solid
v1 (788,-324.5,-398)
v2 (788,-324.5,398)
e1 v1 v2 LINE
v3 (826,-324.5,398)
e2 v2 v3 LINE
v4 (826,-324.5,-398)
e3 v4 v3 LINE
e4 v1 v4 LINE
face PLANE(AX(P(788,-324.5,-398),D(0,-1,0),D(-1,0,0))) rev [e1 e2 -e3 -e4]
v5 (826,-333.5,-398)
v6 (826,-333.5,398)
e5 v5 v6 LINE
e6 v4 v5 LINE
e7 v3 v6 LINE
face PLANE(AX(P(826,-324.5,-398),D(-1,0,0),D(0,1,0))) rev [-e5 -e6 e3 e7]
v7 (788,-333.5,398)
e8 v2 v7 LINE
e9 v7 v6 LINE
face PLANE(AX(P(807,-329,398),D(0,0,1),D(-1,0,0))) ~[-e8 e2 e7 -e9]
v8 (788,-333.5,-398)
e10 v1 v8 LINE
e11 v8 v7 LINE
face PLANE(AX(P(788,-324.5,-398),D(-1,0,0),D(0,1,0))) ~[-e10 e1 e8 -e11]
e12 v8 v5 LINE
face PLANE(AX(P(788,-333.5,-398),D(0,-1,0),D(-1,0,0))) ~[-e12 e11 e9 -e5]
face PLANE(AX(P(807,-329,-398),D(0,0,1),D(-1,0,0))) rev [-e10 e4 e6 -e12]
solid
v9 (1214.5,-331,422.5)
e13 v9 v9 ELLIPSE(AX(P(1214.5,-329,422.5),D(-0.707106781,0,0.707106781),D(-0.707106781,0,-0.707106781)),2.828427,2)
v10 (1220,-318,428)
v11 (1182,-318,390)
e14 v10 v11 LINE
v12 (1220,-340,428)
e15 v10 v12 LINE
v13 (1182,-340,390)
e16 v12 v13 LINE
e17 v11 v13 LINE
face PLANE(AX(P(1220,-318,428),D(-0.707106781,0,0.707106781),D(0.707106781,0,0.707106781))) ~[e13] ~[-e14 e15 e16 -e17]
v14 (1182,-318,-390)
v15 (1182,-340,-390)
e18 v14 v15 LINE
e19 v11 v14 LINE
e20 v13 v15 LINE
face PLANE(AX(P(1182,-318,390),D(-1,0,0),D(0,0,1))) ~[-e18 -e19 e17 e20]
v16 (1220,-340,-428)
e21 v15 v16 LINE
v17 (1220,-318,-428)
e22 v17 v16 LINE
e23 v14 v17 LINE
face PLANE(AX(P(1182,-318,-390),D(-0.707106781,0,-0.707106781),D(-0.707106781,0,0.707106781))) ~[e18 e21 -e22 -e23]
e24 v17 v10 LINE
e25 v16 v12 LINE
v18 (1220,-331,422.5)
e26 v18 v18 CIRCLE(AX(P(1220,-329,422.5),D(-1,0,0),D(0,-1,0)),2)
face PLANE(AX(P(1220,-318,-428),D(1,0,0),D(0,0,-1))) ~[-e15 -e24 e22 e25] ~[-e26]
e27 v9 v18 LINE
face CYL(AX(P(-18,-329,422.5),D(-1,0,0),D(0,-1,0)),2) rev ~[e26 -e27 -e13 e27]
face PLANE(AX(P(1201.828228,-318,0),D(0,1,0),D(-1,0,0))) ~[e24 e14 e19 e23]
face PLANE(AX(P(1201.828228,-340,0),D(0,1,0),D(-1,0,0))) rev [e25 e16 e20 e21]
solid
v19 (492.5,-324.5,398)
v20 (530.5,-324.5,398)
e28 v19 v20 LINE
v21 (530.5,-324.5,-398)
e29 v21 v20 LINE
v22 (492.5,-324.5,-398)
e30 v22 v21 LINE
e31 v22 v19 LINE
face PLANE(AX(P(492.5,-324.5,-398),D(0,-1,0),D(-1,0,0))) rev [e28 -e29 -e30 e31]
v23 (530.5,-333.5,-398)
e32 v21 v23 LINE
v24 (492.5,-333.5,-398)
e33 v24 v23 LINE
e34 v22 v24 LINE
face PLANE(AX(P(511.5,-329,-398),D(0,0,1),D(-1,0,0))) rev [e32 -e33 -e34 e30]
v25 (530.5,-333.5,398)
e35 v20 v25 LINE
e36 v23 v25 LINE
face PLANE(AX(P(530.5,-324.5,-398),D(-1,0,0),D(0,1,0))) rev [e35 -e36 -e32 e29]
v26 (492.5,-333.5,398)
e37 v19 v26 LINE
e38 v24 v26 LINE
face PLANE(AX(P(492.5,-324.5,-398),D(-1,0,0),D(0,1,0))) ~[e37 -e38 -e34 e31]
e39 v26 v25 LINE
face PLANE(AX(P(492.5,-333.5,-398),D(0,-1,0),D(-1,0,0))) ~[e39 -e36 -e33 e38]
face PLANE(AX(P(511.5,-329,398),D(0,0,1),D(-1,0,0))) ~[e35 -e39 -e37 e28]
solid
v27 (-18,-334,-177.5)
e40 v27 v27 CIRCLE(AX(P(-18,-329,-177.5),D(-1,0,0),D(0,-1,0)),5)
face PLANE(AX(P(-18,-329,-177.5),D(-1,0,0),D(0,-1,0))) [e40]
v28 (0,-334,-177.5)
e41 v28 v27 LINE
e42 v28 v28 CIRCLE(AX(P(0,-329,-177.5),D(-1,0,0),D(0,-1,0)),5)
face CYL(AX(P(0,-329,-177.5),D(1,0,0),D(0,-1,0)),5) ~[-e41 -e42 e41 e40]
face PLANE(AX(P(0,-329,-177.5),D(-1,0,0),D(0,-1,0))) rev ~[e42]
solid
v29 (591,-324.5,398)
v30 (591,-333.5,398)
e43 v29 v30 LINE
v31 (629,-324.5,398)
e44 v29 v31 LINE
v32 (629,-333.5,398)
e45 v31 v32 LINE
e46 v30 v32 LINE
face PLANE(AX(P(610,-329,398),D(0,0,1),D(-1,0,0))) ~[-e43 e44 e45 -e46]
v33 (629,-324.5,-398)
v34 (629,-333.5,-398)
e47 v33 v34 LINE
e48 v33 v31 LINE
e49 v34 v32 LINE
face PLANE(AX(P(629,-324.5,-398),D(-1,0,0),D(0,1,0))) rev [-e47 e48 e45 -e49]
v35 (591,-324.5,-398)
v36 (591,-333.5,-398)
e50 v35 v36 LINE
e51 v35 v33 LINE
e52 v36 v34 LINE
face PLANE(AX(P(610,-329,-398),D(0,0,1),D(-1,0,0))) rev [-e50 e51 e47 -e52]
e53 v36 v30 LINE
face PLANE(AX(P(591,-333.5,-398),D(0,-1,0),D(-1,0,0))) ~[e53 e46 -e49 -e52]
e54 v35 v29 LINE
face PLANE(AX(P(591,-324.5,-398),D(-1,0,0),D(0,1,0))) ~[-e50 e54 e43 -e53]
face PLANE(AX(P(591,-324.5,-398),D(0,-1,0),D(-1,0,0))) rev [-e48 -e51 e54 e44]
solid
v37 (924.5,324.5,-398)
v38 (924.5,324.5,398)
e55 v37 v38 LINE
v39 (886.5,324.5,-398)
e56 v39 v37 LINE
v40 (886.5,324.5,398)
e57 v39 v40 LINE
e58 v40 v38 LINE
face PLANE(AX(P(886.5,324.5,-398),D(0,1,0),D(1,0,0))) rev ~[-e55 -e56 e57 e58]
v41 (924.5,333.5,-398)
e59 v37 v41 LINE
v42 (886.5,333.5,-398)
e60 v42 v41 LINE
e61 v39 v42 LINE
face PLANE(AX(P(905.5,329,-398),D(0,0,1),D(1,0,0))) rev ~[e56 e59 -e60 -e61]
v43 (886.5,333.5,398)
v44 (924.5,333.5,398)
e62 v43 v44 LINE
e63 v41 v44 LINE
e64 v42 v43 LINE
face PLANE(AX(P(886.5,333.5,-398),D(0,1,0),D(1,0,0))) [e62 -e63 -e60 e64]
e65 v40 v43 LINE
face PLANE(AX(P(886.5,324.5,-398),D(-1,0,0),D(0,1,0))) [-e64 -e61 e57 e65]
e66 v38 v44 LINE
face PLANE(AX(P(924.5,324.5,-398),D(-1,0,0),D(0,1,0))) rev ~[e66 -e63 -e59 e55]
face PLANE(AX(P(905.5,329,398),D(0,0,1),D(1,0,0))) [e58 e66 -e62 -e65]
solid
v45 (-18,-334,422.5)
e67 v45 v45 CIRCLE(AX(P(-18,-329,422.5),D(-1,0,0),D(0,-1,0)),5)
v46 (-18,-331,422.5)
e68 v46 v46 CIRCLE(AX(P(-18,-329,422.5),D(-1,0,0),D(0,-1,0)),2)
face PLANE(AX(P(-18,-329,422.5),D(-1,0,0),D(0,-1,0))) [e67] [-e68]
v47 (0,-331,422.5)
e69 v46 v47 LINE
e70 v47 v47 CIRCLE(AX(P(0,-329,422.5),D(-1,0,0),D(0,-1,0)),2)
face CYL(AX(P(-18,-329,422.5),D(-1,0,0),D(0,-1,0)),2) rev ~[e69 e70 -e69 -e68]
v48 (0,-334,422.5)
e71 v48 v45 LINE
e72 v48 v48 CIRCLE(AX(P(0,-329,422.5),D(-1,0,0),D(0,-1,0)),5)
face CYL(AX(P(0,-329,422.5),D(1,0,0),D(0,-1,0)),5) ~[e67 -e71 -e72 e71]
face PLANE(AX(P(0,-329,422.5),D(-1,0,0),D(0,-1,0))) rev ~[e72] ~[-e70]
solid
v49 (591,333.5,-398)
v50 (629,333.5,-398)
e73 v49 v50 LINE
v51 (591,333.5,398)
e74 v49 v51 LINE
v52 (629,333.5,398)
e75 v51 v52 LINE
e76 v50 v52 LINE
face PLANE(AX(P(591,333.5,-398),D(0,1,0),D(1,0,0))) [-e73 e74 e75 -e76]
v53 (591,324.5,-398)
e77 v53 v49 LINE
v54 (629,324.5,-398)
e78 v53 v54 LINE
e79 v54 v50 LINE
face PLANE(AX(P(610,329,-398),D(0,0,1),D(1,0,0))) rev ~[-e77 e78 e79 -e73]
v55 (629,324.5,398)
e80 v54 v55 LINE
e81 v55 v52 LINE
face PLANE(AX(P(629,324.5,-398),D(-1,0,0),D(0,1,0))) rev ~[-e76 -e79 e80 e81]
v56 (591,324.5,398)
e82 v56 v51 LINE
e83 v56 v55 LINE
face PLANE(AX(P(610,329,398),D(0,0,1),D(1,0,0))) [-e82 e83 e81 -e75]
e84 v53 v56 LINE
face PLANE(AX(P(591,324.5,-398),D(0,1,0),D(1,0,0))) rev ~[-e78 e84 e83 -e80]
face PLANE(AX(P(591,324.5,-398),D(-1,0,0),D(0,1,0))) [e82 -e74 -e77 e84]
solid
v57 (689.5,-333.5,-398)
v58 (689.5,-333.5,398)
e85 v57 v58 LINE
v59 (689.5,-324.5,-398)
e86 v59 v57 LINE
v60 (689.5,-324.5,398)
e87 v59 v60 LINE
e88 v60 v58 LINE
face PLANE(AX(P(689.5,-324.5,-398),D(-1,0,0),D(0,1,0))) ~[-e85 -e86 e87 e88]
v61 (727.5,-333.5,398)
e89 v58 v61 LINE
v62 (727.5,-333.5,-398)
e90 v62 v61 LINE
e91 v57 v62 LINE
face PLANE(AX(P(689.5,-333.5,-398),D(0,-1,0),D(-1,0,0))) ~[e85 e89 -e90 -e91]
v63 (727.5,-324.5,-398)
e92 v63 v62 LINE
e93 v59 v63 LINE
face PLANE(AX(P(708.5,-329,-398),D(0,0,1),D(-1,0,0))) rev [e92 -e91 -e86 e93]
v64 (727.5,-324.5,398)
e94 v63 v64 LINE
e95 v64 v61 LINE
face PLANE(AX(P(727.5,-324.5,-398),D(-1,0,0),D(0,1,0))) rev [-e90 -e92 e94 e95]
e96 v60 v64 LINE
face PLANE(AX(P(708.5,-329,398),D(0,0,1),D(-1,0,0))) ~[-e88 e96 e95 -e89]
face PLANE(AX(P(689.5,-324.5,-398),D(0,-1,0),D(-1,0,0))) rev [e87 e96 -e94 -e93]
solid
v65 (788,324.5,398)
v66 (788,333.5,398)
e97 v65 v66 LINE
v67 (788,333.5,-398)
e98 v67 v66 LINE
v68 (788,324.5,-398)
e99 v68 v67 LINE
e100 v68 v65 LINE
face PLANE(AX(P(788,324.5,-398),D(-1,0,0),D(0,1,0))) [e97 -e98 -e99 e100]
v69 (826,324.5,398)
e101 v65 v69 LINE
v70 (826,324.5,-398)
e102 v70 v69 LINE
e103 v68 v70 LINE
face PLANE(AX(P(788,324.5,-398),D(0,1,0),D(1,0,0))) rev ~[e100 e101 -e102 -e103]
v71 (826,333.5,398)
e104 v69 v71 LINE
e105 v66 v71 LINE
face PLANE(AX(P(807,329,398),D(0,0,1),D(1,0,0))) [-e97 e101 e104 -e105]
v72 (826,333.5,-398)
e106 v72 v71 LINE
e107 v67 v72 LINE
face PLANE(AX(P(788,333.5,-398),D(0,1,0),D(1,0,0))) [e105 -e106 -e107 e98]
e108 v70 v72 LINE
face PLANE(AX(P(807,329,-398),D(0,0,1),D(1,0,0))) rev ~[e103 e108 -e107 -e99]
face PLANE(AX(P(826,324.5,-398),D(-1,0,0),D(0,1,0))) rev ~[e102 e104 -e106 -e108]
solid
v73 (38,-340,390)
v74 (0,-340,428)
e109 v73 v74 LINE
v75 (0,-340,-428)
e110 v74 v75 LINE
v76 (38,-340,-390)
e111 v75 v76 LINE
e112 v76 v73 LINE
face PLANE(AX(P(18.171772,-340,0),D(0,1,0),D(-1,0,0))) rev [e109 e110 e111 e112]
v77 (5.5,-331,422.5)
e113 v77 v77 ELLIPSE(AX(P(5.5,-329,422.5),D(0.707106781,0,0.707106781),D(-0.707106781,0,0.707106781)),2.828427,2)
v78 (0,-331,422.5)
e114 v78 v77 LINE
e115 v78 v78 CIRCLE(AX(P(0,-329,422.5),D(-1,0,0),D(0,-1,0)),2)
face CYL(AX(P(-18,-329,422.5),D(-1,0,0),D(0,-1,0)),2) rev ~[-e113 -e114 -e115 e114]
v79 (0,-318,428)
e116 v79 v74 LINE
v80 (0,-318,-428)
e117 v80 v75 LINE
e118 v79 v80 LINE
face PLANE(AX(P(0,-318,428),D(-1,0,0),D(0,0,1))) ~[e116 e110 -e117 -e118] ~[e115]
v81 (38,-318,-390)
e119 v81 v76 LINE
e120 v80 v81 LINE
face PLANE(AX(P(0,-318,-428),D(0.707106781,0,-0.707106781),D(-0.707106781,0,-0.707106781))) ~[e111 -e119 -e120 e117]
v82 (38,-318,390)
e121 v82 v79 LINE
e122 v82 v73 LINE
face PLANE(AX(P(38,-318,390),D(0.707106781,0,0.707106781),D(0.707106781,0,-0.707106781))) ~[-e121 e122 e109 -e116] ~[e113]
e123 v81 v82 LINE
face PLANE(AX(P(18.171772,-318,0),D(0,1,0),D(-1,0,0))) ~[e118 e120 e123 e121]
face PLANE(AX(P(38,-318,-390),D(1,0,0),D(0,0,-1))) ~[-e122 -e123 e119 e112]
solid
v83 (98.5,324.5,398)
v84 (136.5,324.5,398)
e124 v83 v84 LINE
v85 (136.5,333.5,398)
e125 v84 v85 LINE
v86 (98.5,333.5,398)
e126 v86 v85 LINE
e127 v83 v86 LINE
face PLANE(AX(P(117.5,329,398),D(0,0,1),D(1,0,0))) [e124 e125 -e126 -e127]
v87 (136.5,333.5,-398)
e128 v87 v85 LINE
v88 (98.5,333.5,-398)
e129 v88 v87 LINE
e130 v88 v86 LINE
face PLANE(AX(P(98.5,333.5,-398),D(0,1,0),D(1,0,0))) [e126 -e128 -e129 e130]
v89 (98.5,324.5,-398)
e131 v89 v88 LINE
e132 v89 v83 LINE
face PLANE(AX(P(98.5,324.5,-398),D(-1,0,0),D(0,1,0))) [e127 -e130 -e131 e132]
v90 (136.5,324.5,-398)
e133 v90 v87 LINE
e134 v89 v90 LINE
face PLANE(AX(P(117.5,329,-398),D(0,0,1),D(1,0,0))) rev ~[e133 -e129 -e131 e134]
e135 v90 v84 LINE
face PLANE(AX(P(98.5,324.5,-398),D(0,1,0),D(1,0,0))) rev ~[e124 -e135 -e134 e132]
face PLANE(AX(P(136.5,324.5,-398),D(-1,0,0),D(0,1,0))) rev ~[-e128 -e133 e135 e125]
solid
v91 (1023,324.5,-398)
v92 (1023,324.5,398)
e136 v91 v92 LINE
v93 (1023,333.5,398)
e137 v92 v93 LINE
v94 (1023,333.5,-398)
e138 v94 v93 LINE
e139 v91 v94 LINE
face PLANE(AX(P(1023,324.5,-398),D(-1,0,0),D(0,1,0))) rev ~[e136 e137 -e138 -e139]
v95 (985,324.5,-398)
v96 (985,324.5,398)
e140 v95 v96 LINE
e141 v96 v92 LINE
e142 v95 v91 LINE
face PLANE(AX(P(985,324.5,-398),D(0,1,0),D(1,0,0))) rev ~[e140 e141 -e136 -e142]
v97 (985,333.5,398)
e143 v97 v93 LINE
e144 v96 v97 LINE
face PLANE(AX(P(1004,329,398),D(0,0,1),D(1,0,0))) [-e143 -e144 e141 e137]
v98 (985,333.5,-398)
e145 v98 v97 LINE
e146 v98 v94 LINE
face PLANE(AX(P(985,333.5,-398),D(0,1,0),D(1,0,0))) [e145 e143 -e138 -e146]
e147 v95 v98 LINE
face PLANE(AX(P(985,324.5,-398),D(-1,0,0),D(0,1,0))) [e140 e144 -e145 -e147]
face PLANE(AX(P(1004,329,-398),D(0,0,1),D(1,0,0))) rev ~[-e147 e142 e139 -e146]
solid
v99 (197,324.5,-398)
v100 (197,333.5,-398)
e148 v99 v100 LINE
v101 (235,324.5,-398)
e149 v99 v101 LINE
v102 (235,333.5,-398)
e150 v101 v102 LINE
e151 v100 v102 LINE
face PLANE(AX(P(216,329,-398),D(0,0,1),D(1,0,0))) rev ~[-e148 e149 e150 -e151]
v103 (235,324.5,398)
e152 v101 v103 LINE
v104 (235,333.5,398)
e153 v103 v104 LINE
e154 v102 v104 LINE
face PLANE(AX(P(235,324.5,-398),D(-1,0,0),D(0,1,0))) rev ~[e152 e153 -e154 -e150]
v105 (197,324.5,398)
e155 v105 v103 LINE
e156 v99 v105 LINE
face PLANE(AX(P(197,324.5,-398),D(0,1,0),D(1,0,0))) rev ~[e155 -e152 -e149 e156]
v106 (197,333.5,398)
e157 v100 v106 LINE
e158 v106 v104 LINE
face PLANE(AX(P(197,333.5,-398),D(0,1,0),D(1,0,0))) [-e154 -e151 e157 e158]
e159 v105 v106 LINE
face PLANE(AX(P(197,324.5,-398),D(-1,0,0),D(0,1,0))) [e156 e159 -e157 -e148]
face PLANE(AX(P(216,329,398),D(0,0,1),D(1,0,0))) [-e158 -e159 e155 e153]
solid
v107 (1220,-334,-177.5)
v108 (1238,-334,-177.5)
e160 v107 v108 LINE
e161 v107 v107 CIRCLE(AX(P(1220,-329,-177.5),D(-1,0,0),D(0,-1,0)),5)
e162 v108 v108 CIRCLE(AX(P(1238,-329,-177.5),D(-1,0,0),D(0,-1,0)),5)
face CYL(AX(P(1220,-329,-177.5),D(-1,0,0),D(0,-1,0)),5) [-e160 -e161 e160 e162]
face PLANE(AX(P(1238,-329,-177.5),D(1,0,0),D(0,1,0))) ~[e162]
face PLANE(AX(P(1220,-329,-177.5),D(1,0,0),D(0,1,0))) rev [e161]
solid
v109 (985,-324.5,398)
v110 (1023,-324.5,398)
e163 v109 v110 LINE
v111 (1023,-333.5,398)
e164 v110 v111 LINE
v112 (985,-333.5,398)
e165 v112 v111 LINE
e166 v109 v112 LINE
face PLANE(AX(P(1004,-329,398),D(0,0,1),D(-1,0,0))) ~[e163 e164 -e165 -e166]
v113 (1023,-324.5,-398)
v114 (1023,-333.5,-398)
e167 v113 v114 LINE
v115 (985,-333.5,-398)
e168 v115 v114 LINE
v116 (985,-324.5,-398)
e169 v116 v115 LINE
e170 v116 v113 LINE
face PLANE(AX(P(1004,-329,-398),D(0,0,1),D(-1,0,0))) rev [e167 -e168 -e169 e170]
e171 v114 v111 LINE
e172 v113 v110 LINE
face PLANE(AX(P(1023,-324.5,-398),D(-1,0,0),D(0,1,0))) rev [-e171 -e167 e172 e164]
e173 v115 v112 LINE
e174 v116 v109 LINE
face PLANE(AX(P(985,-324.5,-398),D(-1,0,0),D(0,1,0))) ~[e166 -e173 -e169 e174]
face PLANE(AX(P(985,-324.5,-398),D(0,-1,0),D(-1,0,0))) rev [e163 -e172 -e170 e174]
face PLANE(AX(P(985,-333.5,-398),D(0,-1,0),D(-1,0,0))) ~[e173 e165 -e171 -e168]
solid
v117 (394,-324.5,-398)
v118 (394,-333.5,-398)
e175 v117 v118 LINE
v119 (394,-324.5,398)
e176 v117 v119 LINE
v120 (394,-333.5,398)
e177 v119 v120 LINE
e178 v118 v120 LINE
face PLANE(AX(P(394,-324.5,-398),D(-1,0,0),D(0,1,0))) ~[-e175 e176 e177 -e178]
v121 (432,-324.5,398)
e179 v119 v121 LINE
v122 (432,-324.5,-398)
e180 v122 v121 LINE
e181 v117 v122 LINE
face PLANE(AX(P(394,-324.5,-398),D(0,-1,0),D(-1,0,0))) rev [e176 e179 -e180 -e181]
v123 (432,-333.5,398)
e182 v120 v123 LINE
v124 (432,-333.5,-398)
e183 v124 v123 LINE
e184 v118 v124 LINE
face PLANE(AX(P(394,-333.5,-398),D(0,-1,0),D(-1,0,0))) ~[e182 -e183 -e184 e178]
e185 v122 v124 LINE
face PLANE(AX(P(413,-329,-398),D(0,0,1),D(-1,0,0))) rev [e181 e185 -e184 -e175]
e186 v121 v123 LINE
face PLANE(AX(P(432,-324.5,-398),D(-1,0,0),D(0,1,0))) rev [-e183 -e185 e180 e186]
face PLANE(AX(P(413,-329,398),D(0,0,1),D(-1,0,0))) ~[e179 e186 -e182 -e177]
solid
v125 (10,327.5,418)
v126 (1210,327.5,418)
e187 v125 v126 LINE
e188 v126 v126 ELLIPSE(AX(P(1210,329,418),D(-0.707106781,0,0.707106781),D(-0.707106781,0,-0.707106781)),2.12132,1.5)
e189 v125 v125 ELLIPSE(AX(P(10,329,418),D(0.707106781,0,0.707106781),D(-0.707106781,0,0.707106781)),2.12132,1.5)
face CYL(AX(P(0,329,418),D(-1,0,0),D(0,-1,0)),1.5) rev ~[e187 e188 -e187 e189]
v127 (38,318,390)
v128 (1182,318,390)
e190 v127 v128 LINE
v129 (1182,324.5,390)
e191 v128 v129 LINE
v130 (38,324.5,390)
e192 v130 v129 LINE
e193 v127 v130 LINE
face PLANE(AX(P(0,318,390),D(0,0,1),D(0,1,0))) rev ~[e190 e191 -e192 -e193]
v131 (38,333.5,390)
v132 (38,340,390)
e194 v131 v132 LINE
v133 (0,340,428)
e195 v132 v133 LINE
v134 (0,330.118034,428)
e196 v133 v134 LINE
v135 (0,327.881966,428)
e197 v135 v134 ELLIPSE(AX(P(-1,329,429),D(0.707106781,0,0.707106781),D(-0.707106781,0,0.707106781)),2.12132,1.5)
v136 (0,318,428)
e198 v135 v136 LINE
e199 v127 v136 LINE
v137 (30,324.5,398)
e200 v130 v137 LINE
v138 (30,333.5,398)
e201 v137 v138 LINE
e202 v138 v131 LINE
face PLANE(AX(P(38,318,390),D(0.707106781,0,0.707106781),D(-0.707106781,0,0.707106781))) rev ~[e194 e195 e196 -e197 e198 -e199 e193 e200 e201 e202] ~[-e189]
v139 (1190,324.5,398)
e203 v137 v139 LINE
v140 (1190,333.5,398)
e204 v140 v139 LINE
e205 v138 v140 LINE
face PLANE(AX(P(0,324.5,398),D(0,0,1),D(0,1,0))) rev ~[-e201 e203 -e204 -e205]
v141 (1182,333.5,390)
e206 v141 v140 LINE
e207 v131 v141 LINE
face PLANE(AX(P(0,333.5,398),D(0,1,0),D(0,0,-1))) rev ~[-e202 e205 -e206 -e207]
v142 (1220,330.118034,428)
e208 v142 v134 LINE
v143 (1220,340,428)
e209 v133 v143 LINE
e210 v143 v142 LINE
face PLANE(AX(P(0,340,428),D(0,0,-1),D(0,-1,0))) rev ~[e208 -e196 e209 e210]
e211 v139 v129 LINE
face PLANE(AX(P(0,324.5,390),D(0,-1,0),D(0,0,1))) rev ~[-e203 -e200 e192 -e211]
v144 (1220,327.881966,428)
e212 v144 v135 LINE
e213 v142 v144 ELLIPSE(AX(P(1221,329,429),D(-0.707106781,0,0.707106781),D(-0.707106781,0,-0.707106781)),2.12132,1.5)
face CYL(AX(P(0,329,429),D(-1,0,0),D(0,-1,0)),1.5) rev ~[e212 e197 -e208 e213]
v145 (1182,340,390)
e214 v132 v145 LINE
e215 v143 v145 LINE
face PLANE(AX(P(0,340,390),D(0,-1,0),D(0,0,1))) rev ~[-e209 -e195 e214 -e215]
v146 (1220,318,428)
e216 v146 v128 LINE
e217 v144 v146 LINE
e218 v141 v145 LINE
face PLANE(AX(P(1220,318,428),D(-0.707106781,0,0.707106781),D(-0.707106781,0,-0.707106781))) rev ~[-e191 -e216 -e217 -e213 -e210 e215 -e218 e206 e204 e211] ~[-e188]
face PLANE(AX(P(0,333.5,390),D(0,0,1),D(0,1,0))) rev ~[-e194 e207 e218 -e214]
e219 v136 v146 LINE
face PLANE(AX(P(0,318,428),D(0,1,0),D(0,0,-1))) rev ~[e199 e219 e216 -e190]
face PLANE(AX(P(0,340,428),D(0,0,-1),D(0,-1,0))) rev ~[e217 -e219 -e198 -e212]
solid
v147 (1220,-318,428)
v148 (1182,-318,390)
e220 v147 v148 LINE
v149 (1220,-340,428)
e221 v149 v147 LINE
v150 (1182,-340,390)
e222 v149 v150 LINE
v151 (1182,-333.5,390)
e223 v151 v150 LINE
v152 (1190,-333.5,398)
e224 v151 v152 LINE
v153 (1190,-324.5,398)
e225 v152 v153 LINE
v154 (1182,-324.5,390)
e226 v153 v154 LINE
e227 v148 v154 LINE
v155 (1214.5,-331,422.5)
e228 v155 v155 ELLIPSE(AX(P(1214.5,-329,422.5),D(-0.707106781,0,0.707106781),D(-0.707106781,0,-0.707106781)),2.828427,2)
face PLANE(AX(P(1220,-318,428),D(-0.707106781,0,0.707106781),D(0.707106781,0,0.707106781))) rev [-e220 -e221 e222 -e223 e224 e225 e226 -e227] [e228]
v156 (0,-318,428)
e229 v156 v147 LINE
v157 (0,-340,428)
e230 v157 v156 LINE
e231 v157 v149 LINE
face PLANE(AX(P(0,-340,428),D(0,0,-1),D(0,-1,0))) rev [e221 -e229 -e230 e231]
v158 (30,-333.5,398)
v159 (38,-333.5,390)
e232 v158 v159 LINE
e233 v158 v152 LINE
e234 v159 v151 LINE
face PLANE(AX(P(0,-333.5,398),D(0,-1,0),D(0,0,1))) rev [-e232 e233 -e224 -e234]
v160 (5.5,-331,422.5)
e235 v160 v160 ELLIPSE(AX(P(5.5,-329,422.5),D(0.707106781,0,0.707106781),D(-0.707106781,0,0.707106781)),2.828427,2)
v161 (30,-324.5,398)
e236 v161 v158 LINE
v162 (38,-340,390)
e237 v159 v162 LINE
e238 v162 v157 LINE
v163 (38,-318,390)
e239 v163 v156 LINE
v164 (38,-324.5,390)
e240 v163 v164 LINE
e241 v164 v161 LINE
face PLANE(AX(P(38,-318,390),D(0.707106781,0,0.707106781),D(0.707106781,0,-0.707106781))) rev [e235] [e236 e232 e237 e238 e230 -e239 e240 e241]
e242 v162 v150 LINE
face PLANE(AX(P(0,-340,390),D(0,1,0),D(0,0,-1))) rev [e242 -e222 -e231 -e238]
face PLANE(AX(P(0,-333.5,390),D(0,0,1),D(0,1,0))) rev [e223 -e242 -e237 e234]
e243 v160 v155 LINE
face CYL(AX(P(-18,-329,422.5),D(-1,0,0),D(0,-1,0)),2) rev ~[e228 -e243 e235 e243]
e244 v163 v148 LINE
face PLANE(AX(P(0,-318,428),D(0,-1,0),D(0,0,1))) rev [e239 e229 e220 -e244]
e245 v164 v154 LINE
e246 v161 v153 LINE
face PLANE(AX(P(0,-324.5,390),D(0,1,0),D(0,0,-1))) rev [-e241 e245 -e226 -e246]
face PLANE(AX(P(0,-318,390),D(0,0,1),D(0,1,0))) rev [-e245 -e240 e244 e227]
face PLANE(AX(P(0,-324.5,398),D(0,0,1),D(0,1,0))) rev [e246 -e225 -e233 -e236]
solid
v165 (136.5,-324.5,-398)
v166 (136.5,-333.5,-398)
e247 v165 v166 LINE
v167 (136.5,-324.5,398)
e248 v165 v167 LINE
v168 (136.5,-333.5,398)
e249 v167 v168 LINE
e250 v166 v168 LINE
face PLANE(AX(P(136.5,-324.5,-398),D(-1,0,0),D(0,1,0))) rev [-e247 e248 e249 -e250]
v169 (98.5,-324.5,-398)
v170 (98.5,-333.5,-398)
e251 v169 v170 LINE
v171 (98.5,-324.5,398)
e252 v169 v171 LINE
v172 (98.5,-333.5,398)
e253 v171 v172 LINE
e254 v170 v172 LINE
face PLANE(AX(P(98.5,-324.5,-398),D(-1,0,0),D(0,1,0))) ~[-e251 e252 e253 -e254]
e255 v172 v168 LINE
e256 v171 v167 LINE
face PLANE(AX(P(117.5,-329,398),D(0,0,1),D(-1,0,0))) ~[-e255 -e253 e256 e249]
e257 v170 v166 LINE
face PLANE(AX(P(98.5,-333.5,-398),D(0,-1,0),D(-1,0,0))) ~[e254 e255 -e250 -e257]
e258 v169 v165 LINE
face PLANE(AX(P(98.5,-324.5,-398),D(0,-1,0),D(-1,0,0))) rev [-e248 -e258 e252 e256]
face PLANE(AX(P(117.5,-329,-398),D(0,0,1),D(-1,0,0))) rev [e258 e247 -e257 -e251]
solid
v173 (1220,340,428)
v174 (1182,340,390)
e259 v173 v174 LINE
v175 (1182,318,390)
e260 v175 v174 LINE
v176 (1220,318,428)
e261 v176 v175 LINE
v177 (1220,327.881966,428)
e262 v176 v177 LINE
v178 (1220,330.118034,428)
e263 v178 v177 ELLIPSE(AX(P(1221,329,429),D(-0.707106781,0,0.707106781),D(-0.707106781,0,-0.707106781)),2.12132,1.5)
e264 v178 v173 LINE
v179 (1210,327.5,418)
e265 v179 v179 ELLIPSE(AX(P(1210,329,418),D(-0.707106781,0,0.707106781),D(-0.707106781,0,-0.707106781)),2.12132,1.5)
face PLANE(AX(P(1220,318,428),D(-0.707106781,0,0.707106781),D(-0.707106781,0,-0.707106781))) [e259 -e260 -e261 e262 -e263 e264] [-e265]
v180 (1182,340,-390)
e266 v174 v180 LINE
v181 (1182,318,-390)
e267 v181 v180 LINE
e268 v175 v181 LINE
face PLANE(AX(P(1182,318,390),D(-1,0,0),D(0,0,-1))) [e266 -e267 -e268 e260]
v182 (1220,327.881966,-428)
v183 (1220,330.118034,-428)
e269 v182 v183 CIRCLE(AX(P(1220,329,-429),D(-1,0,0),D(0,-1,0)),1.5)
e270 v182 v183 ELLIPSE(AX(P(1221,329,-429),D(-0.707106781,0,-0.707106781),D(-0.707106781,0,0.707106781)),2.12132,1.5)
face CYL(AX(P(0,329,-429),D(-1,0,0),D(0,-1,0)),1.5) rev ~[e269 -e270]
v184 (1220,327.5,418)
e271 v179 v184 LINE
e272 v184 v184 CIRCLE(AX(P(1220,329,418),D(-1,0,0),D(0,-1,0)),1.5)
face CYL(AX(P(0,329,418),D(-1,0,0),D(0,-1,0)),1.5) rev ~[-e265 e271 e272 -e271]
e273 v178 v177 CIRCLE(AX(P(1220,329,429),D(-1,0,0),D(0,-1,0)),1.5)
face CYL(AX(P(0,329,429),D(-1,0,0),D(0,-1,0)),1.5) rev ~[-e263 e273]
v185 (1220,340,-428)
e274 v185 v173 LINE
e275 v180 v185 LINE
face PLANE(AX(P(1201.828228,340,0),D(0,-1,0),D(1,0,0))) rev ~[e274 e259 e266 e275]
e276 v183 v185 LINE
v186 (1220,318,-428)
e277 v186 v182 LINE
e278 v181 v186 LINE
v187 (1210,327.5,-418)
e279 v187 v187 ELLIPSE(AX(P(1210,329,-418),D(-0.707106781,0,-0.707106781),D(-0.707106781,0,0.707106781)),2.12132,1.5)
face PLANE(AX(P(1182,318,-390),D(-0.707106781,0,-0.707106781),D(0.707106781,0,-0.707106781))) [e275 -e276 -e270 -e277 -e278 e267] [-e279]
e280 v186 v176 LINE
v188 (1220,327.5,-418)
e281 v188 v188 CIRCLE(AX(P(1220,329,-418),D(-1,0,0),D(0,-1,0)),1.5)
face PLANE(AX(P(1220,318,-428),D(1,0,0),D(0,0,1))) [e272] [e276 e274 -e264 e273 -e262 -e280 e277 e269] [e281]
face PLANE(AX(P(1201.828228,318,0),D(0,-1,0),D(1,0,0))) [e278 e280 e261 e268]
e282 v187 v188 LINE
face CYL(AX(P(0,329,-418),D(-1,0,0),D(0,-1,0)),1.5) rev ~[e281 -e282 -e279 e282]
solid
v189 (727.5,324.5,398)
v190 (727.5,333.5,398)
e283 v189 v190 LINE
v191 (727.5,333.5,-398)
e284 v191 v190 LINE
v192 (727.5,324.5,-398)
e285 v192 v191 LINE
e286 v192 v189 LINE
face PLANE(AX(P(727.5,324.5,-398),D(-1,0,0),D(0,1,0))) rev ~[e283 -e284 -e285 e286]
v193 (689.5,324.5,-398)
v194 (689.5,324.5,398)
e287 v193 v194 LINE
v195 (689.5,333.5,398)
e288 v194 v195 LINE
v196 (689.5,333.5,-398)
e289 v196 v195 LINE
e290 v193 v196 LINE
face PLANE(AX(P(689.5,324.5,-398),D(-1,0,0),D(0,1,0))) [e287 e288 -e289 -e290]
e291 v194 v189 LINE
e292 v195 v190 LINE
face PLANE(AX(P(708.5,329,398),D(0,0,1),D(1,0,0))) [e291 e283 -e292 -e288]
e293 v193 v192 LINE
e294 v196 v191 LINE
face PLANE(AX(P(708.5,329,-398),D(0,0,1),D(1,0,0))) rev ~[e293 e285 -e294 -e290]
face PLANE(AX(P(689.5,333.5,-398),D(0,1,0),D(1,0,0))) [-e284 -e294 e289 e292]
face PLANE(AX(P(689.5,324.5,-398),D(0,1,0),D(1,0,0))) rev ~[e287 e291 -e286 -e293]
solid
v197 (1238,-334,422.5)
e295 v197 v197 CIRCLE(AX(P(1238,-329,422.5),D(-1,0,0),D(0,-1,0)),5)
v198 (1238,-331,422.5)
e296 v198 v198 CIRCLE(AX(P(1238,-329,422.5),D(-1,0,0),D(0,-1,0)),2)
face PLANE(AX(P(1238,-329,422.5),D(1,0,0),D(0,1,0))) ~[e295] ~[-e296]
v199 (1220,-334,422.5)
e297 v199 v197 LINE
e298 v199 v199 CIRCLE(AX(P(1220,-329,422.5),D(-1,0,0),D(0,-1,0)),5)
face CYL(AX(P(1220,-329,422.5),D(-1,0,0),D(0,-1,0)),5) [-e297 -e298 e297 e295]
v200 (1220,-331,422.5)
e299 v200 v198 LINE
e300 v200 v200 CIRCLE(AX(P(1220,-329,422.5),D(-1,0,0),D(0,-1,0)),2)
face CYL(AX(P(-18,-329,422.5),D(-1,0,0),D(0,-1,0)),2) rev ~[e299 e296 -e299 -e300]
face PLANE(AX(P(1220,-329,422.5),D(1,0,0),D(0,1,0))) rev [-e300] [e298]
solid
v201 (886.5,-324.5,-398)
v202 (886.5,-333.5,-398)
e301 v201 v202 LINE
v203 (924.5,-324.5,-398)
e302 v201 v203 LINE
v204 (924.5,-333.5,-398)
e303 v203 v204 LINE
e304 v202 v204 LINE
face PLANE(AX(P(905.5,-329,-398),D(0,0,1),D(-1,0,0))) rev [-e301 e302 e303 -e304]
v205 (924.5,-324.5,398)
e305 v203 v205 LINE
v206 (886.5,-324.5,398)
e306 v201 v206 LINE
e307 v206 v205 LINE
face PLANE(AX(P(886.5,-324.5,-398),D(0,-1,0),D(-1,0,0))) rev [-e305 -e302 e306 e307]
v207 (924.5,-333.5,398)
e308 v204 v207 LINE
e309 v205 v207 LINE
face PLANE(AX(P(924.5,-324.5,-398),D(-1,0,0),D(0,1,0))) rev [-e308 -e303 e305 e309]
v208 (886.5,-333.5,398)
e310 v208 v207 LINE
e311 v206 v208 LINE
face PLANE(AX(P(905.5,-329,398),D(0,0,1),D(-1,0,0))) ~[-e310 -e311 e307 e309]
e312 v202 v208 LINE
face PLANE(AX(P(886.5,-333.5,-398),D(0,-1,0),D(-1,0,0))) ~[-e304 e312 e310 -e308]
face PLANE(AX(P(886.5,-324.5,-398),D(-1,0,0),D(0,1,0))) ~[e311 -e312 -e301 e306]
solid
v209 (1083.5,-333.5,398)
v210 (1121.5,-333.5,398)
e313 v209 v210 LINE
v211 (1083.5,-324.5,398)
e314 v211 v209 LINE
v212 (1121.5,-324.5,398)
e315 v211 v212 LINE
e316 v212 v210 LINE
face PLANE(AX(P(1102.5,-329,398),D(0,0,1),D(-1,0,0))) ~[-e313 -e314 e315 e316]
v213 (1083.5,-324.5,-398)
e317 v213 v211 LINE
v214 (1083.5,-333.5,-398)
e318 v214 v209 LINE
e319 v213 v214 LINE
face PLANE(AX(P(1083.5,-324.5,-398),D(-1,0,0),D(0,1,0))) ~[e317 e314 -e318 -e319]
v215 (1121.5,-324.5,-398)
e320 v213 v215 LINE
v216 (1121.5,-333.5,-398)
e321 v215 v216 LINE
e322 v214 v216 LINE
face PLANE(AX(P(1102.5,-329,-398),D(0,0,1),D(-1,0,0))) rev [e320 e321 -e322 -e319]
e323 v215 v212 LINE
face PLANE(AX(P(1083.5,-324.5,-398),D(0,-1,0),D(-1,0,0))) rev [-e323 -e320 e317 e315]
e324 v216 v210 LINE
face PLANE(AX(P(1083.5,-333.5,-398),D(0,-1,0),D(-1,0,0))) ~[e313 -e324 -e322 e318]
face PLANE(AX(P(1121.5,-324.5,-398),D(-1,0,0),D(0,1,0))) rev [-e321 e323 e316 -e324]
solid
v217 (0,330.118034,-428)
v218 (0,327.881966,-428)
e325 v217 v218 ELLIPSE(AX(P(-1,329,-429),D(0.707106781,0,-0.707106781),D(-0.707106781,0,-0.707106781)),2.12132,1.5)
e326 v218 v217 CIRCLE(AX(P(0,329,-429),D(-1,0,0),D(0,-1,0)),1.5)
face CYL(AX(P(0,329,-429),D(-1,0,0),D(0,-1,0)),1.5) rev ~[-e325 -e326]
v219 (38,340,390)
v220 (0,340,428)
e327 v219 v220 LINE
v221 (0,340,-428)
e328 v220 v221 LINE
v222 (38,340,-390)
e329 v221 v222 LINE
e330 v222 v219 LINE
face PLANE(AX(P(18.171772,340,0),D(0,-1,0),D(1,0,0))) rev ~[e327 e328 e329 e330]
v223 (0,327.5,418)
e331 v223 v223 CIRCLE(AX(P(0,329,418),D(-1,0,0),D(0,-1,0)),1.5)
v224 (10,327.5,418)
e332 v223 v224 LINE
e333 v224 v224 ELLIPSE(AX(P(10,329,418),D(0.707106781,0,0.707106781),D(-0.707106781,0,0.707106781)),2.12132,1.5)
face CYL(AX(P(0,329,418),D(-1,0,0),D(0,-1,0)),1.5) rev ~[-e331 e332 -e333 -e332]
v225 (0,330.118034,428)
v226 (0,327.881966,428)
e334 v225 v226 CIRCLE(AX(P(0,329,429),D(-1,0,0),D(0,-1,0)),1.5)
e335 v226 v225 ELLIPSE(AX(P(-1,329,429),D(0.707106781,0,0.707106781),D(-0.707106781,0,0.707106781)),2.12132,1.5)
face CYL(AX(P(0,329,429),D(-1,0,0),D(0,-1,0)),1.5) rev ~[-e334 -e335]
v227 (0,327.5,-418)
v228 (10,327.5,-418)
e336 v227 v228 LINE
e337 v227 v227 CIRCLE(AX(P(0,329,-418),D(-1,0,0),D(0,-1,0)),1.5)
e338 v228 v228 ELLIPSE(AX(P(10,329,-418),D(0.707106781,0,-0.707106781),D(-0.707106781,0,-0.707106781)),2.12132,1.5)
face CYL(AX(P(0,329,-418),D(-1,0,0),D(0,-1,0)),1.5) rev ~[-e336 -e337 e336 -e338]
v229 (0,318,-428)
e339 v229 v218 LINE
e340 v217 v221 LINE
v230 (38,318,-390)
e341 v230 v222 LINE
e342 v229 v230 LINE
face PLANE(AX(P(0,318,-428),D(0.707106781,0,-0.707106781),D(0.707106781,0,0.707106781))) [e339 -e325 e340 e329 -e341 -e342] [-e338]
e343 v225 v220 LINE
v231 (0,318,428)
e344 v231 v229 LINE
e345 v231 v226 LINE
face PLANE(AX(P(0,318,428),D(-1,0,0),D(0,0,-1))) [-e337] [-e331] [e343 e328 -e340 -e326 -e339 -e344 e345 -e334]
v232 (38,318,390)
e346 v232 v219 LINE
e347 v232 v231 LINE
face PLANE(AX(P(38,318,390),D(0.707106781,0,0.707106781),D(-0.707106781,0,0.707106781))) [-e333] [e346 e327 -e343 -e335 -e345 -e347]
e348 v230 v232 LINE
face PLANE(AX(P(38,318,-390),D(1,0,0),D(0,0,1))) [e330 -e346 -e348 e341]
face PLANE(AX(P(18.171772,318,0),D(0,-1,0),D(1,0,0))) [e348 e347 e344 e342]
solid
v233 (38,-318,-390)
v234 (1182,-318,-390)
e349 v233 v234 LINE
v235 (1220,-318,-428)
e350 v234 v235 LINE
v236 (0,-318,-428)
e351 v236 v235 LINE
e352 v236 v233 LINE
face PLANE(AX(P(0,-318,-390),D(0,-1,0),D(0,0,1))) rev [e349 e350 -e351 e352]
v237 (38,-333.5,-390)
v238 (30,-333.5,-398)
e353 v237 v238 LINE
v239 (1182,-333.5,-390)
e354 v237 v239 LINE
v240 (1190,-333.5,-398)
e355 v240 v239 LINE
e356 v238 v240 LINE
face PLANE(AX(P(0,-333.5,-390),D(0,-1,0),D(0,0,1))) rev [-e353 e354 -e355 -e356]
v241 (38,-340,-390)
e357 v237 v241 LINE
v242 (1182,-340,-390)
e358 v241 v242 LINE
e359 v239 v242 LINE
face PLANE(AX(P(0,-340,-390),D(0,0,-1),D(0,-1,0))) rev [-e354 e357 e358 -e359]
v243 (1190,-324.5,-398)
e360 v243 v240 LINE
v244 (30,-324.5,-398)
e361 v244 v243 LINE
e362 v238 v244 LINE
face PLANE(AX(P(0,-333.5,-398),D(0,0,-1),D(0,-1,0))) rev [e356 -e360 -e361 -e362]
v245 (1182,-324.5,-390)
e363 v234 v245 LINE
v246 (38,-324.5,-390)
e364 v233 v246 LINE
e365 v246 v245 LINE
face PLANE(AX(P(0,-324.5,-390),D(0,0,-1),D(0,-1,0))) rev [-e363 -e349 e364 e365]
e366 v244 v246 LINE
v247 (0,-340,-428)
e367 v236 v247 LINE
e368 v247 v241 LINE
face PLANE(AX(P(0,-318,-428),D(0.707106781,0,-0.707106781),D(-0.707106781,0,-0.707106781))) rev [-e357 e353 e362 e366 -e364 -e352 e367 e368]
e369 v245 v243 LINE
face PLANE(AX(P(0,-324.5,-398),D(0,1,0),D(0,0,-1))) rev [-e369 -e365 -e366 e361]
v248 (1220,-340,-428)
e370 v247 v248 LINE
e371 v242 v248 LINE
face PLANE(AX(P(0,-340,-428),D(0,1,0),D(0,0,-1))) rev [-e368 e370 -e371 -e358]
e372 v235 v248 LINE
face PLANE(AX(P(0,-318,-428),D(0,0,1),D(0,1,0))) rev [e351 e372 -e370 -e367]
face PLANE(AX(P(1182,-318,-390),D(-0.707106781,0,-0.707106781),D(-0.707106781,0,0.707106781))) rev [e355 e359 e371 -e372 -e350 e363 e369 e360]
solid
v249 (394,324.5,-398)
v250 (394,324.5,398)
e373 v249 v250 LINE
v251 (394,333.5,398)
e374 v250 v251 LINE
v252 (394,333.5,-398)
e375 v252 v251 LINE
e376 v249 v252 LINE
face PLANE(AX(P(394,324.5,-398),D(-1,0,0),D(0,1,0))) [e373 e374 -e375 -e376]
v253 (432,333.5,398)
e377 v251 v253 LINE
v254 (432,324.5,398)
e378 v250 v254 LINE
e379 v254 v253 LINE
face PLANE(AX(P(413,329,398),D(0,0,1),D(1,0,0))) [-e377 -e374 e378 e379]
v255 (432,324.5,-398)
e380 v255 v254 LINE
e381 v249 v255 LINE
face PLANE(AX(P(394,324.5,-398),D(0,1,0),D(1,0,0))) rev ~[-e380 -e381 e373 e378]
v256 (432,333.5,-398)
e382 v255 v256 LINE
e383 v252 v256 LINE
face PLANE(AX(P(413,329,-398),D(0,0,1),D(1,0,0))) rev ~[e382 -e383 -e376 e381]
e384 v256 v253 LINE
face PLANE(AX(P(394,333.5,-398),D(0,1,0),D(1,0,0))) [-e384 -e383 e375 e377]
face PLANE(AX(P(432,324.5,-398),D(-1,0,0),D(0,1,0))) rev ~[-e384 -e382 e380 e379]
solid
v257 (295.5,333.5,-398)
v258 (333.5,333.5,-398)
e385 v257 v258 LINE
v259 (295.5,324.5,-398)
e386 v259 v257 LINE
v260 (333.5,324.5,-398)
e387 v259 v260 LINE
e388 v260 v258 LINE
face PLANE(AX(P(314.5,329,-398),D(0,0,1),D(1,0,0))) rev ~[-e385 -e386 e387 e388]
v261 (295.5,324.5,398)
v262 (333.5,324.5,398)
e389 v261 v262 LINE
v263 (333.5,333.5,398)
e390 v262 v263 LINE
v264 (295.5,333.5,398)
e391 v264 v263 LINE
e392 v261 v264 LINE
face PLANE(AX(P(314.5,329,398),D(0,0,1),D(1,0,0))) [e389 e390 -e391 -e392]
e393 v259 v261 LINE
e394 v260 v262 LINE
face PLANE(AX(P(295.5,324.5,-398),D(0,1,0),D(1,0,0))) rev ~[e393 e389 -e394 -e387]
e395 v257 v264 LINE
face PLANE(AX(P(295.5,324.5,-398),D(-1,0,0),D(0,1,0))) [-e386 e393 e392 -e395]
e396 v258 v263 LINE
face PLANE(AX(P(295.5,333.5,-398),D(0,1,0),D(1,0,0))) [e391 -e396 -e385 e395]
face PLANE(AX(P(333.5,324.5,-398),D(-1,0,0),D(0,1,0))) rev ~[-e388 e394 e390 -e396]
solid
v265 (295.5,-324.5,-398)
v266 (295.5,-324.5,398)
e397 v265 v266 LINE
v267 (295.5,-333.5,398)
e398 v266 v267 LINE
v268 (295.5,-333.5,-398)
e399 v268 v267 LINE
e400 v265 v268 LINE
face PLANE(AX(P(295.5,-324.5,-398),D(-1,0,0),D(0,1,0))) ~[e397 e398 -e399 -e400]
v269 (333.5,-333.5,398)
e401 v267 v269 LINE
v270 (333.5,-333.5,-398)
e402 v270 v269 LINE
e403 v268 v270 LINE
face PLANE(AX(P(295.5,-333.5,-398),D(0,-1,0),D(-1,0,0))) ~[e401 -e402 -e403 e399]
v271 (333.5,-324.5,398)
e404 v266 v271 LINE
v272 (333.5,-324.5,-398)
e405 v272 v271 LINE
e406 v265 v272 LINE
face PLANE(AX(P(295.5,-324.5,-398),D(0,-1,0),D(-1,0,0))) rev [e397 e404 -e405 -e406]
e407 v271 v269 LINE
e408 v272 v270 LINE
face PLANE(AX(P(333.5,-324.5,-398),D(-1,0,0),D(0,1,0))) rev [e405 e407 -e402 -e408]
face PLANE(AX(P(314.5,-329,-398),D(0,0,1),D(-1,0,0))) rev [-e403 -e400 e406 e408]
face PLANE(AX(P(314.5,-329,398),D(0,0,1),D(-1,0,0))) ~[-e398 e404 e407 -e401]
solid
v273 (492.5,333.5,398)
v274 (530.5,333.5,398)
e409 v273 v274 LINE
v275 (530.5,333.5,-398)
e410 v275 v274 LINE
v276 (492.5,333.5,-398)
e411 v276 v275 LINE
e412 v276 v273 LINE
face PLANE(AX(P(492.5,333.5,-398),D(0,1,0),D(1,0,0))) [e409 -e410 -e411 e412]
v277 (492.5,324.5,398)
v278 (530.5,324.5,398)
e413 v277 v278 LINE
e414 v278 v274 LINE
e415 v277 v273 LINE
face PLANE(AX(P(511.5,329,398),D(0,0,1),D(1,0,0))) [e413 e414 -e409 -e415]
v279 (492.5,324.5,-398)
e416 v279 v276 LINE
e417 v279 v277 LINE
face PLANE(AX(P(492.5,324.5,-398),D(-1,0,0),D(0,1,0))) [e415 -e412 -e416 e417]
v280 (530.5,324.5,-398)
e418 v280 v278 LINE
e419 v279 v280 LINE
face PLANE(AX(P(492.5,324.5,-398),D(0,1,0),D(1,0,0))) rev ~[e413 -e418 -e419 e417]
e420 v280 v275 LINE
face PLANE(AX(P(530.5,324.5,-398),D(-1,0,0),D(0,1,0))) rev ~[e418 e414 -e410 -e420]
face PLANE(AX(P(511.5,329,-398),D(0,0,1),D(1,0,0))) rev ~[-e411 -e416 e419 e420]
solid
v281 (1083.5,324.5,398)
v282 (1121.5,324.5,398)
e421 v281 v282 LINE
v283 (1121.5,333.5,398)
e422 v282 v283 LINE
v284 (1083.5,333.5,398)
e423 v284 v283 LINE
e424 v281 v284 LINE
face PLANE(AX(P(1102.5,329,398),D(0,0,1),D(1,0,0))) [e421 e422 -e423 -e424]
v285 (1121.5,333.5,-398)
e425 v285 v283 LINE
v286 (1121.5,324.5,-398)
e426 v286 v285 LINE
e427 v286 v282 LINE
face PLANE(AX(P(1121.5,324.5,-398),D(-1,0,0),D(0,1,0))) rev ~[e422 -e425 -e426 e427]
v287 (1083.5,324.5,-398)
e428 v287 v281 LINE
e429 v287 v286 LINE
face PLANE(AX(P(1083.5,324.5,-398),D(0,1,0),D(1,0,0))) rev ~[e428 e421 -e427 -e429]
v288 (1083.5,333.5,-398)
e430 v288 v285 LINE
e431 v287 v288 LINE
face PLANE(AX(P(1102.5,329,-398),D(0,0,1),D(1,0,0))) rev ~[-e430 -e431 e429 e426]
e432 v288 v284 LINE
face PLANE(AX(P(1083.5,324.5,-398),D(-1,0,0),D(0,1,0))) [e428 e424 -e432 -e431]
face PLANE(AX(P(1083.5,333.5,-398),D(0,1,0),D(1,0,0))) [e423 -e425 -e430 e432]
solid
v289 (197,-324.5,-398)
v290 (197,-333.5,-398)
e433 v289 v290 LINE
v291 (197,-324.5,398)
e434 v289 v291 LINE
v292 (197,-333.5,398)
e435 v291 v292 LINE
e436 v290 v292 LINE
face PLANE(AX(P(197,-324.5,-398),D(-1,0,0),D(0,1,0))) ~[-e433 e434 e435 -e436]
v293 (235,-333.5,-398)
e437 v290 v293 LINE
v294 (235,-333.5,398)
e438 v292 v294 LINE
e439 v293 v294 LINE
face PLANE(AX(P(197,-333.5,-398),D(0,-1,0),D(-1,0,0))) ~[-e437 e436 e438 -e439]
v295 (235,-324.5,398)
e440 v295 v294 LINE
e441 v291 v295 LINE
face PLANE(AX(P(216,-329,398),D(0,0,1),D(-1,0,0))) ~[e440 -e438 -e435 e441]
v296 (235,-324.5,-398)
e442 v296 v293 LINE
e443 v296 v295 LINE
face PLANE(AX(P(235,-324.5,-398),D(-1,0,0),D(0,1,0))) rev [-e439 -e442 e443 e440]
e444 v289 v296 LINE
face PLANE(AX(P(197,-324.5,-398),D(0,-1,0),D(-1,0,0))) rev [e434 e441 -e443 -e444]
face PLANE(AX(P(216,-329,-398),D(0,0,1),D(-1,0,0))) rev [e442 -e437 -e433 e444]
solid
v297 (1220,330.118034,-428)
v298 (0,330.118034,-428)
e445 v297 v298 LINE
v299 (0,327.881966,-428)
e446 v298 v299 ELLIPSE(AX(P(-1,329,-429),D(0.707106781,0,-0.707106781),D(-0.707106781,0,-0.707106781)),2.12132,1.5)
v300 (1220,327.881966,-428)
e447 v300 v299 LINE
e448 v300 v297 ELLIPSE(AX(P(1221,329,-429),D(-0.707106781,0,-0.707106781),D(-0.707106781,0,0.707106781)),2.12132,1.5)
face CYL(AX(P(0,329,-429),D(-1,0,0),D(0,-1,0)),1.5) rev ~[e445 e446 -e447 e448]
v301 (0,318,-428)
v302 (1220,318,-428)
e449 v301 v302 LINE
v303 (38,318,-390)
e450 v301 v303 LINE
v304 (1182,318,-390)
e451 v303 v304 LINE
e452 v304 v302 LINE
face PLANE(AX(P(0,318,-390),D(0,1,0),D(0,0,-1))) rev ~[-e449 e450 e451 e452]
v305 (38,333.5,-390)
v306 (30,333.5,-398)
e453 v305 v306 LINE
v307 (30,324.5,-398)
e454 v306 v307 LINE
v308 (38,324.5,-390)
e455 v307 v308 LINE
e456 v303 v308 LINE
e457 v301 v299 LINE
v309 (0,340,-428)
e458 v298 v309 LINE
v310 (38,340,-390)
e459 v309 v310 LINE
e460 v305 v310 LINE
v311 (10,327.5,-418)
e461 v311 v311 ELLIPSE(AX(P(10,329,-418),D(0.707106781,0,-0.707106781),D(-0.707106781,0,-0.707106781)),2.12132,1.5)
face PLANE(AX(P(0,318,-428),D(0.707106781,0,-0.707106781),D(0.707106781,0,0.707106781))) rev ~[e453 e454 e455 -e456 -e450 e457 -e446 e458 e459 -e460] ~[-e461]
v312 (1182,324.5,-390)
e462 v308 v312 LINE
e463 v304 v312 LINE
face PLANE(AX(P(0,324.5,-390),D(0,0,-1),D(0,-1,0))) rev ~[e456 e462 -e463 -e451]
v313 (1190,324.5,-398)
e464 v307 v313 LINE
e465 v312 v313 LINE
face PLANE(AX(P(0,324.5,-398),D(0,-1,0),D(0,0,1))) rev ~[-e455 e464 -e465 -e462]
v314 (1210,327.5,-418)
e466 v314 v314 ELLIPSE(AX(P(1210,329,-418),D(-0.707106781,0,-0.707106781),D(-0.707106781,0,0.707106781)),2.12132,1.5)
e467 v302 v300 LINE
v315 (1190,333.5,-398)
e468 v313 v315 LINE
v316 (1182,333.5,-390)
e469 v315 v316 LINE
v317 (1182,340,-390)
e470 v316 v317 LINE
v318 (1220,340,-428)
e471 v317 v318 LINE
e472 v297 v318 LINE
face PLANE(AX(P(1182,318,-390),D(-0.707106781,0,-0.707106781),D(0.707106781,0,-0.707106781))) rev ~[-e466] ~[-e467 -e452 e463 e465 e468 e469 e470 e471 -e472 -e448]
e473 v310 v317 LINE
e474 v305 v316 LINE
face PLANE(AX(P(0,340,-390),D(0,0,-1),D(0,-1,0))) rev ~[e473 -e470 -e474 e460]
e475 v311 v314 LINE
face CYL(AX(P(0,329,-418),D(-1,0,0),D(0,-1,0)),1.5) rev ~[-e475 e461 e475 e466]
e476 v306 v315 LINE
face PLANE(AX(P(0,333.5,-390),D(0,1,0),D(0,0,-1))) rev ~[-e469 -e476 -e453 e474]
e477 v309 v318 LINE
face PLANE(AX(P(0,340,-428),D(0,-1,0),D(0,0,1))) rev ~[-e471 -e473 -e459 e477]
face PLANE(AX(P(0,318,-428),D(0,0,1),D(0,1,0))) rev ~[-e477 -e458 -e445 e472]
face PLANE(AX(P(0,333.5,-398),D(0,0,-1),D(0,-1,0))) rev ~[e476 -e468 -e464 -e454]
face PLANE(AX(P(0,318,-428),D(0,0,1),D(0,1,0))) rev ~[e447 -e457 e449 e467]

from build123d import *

# Parameters (mm, degrees)
F1_DEPTH  = 1220
F3_DEPTH  = 350
F4_DEPTH  = 22
F5_W      = 38
F5_H      = 9
F6_DEPTH  = 796
F9_R      = 1.5
F10_DEPTH = 1220.001
F11_R     = 5
F12_DEPTH = 18
F16_R     = 2
F17_DEPTH = 1256


with BuildPart() as f1:
    # F0 (on Right) → F1 (new body)
    with BuildSketch(Plane.YZ):
        Polygon((340, 428), (318, 428), (318, 390), (324.5, 390), (324.5, 398), (333.5, 398), (333.5, 390), (340, 390), align=None)
    extrude(amount=F1_DEPTH)


with BuildPart() as f1b:
    # F0 (on Right) → F1, piece 2 (new body)
    with BuildSketch(Plane.YZ):
        Polygon((324.5, -390), (318, -390), (318, -428), (340, -428), (340, -390), (333.5, -390), (333.5, -398), (324.5, -398), align=None)
    extrude(amount=F1_DEPTH)


with BuildPart() as f3_tool:
    # F2 (on face) → F3 (new body)
    with BuildSketch(Plane.XZ.offset(-318)):
        Polygon((0, 428), (0, -428), (38, -390), (38, 390), align=None)
        Polygon((1220, 428), (1182, 390), (1182, -390), (1220, -428), align=None)
    extrude(amount=-F3_DEPTH)


with BuildPart() as f1_1:
    add(f1.part)

    # F3: cut by f3_tool
    add(f3_tool.part, mode=Mode.SUBTRACT)


with BuildPart() as f1b_1:
    add(f1b.part)

    # F3: cut by f3_tool
    add(f3_tool.part, mode=Mode.SUBTRACT)


with BuildPart() as f4:
    # F2 (on face) → F4 (new body)
    with BuildSketch(Plane.XZ.offset(-318)):
        Polygon((0, 428), (0, -428), (38, -390), (38, 390), align=None)
    extrude(amount=-F4_DEPTH)


with BuildPart() as f4b:
    # F2 (on face) → F4, piece 2 (new body)
    with BuildSketch(Plane.XZ.offset(-318)):
        Polygon((1220, 428), (1182, 390), (1182, -390), (1220, -428), align=None)
    extrude(amount=-F4_DEPTH)


with BuildPart() as f6:
    # F5 (on face) → F6 (new body, through all)
    with BuildSketch(Plane.XY.offset(-398)):
        with Locations((117.5, 329)):
            Rectangle(F5_W, F5_H)
    extrude(amount=F6_DEPTH)


with BuildPart() as f6b:
    # F5 (on face) → F6, piece 2 (new body, through all)
    with BuildSketch(Plane.XY.offset(-398)):
        with Locations((216, 329)):
            Rectangle(F5_W, F5_H)
    extrude(amount=F6_DEPTH)


with BuildPart() as f6c:
    # F5 (on face) → F6, piece 3 (new body, through all)
    with BuildSketch(Plane.XY.offset(-398)):
        with Locations((314.5, 329)):
            Rectangle(F5_W, F5_H)
    extrude(amount=F6_DEPTH)


with BuildPart() as f6d:
    # F5 (on face) → F6, piece 4 (new body, through all)
    with BuildSketch(Plane.XY.offset(-398)):
        with Locations((413, 329)):
            Rectangle(F5_W, F5_H)
    extrude(amount=F6_DEPTH)


with BuildPart() as f6e:
    # F5 (on face) → F6, piece 5 (new body, through all)
    with BuildSketch(Plane.XY.offset(-398)):
        with Locations((511.5, 329)):
            Rectangle(F5_W, F5_H)
    extrude(amount=F6_DEPTH)


with BuildPart() as f6f:
    # F5 (on face) → F6, piece 6 (new body, through all)
    with BuildSketch(Plane.XY.offset(-398)):
        with Locations((610, 329)):
            Rectangle(F5_W, F5_H)
    extrude(amount=F6_DEPTH)


with BuildPart() as f6g:
    # F5 (on face) → F6, piece 7 (new body, through all)
    with BuildSketch(Plane.XY.offset(-398)):
        with Locations((708.5, 329)):
            Rectangle(F5_W, F5_H)
    extrude(amount=F6_DEPTH)


with BuildPart() as f6h:
    # F5 (on face) → F6, piece 8 (new body, through all)
    with BuildSketch(Plane.XY.offset(-398)):
        with Locations((807, 329)):
            Rectangle(F5_W, F5_H)
    extrude(amount=F6_DEPTH)


with BuildPart() as f6i:
    # F5 (on face) → F6, piece 9 (new body, through all)
    with BuildSketch(Plane.XY.offset(-398)):
        with Locations((905.5, 329)):
            Rectangle(F5_W, F5_H)
    extrude(amount=F6_DEPTH)


with BuildPart() as f6j:
    # F5 (on face) → F6, piece 10 (new body, through all)
    with BuildSketch(Plane.XY.offset(-398)):
        with Locations((1004, 329)):
            Rectangle(F5_W, F5_H)
    extrude(amount=F6_DEPTH)


with BuildPart() as f6k:
    # F5 (on face) → F6, piece 11 (new body, through all)
    with BuildSketch(Plane.XY.offset(-398)):
        with Locations((1102.5, 329)):
            Rectangle(F5_W, F5_H)
    extrude(amount=F6_DEPTH)


with BuildPart() as f8_1:
    # F8: instance of F4
    add(f4.part.mirror(Plane.XZ))


with BuildPart() as f8_2:
    # F8: instance of F4b
    add(f4b.part.mirror(Plane.XZ))


with BuildPart() as f8_3:
    # F8: instance of F6g
    add(f6g.part.mirror(Plane.XZ))


with BuildPart() as f8_4:
    # F8: instance of F6
    add(f6.part.mirror(Plane.XZ))


with BuildPart() as f8_5:
    # F8: instance of F6b
    add(f6b.part.mirror(Plane.XZ))


with BuildPart() as f8_6:
    # F8: instance of F6c
    add(f6c.part.mirror(Plane.XZ))


with BuildPart() as f8_7:
    # F8: instance of F6d
    add(f6d.part.mirror(Plane.XZ))


with BuildPart() as f8_8:
    # F8: instance of F6e
    add(f6e.part.mirror(Plane.XZ))


with BuildPart() as f8_9:
    # F8: instance of F6f
    add(f6f.part.mirror(Plane.XZ))


with BuildPart() as f8_10:
    # F8: instance of F6h
    add(f6h.part.mirror(Plane.XZ))


with BuildPart() as f8_11:
    # F8: instance of F6i
    add(f6i.part.mirror(Plane.XZ))


with BuildPart() as f8_12:
    # F8: instance of F6j
    add(f6j.part.mirror(Plane.XZ))


with BuildPart() as f8_13:
    # F8: instance of F6k
    add(f6k.part.mirror(Plane.XZ))


with BuildPart() as f8_14:
    # F8: instance of F1
    add(f1_1.part.mirror(Plane.XZ))


with BuildPart() as f8_15:
    # F8: instance of F1b
    add(f1b_1.part.mirror(Plane.XZ))


with BuildPart() as f10_tool:
    # F9 (on face) → F10 (new body, through all)
    with BuildSketch(Plane(origin=(0, 0, 0), x_dir=(0, -1, 0), z_dir=(-1, 0, 0))):
        with Locations((-329, 429)):
            Circle(F9_R)
        with Locations((-329, 418)):
            Circle(F9_R)
        with Locations((-329, -418)):
            Circle(F9_R)
        with Locations((-329, -429)):
            Circle(F9_R)
    extrude(amount=-F10_DEPTH)


with BuildPart() as f1_2:
    add(f1_1.part)

    # F10: cut by f10_tool
    add(f10_tool.part, mode=Mode.SUBTRACT)


with BuildPart() as f1b_2:
    add(f1b_1.part)

    # F10: cut by f10_tool
    add(f10_tool.part, mode=Mode.SUBTRACT)


with BuildPart() as f4_1:
    add(f4.part)

    # F10: cut by f10_tool
    add(f10_tool.part, mode=Mode.SUBTRACT)


with BuildPart() as f4b_1:
    add(f4b.part)

    # F10: cut by f10_tool
    add(f10_tool.part, mode=Mode.SUBTRACT)


with BuildPart() as f12:
    # F11 (on face) → F12 (new body)
    with BuildSketch(Plane(origin=(0, 0, 0), x_dir=(0, -1, 0), z_dir=(-1, 0, 0))):
        with Locations((329, 422.5)):
            Circle(F11_R)
    extrude(amount=F12_DEPTH)


with BuildPart() as f12b:
    # F11 (on face) → F12, piece 2 (new body)
    with BuildSketch(Plane(origin=(0, 0, 0), x_dir=(0, -1, 0), z_dir=(-1, 0, 0))):
        with Locations((329, -177.5)):
            Circle(F11_R)
    extrude(amount=F12_DEPTH)


with BuildPart() as f15_1:
    # F15: instance of F12
    add(f12.part.mirror(Plane(origin=(610, -329, 0), x_dir=(0, -1, 0), z_dir=(-1, 0, 0))))


with BuildPart() as f15_2:
    # F15: instance of F12b
    add(f12b.part.mirror(Plane(origin=(610, -329, 0), x_dir=(0, -1, 0), z_dir=(-1, 0, 0))))


with BuildPart() as f17_tool:
    # F16 (on face) → F17 (new body, through all)
    with BuildSketch(Plane(origin=(-18, 0, 0), x_dir=(0, -1, 0), z_dir=(-1, 0, 0))):
        with Locations((329, 422.5)):
            Circle(F16_R)
    extrude(amount=-F17_DEPTH)


with BuildPart() as f8_1_1:
    add(f8_1.part)

    # F17: cut by f17_tool
    add(f17_tool.part, mode=Mode.SUBTRACT)


with BuildPart() as f8_2_1:
    add(f8_2.part)

    # F17: cut by f17_tool
    add(f17_tool.part, mode=Mode.SUBTRACT)


with BuildPart() as f8_14_1:
    add(f8_14.part)

    # F17: cut by f17_tool
    add(f17_tool.part, mode=Mode.SUBTRACT)


with BuildPart() as f12_1:
    add(f12.part)

    # F17: cut by f17_tool
    add(f17_tool.part, mode=Mode.SUBTRACT)


with BuildPart() as f15_1_1:
    add(f15_1.part)

    # F17: cut by f17_tool
    add(f17_tool.part, mode=Mode.SUBTRACT)


solid = Compound([f6.part, f6b.part, f6c.part, f6d.part, f6e.part, f6f.part, f6g.part, f6h.part, f6i.part, f6j.part, f6k.part, f8_3.part, f8_4.part, f8_5.part, f8_6.part, f8_7.part, f8_8.part, f8_9.part, f8_10.part, f8_11.part, f8_12.part, f8_13.part, f8_15.part, f1_2.part, f1b_2.part, f4_1.part, f4b_1.part, f12b.part, f15_2.part, f8_1_1.part, f8_2_1.part, f8_14_1.part, f12_1.part, f15_1_1.part])
